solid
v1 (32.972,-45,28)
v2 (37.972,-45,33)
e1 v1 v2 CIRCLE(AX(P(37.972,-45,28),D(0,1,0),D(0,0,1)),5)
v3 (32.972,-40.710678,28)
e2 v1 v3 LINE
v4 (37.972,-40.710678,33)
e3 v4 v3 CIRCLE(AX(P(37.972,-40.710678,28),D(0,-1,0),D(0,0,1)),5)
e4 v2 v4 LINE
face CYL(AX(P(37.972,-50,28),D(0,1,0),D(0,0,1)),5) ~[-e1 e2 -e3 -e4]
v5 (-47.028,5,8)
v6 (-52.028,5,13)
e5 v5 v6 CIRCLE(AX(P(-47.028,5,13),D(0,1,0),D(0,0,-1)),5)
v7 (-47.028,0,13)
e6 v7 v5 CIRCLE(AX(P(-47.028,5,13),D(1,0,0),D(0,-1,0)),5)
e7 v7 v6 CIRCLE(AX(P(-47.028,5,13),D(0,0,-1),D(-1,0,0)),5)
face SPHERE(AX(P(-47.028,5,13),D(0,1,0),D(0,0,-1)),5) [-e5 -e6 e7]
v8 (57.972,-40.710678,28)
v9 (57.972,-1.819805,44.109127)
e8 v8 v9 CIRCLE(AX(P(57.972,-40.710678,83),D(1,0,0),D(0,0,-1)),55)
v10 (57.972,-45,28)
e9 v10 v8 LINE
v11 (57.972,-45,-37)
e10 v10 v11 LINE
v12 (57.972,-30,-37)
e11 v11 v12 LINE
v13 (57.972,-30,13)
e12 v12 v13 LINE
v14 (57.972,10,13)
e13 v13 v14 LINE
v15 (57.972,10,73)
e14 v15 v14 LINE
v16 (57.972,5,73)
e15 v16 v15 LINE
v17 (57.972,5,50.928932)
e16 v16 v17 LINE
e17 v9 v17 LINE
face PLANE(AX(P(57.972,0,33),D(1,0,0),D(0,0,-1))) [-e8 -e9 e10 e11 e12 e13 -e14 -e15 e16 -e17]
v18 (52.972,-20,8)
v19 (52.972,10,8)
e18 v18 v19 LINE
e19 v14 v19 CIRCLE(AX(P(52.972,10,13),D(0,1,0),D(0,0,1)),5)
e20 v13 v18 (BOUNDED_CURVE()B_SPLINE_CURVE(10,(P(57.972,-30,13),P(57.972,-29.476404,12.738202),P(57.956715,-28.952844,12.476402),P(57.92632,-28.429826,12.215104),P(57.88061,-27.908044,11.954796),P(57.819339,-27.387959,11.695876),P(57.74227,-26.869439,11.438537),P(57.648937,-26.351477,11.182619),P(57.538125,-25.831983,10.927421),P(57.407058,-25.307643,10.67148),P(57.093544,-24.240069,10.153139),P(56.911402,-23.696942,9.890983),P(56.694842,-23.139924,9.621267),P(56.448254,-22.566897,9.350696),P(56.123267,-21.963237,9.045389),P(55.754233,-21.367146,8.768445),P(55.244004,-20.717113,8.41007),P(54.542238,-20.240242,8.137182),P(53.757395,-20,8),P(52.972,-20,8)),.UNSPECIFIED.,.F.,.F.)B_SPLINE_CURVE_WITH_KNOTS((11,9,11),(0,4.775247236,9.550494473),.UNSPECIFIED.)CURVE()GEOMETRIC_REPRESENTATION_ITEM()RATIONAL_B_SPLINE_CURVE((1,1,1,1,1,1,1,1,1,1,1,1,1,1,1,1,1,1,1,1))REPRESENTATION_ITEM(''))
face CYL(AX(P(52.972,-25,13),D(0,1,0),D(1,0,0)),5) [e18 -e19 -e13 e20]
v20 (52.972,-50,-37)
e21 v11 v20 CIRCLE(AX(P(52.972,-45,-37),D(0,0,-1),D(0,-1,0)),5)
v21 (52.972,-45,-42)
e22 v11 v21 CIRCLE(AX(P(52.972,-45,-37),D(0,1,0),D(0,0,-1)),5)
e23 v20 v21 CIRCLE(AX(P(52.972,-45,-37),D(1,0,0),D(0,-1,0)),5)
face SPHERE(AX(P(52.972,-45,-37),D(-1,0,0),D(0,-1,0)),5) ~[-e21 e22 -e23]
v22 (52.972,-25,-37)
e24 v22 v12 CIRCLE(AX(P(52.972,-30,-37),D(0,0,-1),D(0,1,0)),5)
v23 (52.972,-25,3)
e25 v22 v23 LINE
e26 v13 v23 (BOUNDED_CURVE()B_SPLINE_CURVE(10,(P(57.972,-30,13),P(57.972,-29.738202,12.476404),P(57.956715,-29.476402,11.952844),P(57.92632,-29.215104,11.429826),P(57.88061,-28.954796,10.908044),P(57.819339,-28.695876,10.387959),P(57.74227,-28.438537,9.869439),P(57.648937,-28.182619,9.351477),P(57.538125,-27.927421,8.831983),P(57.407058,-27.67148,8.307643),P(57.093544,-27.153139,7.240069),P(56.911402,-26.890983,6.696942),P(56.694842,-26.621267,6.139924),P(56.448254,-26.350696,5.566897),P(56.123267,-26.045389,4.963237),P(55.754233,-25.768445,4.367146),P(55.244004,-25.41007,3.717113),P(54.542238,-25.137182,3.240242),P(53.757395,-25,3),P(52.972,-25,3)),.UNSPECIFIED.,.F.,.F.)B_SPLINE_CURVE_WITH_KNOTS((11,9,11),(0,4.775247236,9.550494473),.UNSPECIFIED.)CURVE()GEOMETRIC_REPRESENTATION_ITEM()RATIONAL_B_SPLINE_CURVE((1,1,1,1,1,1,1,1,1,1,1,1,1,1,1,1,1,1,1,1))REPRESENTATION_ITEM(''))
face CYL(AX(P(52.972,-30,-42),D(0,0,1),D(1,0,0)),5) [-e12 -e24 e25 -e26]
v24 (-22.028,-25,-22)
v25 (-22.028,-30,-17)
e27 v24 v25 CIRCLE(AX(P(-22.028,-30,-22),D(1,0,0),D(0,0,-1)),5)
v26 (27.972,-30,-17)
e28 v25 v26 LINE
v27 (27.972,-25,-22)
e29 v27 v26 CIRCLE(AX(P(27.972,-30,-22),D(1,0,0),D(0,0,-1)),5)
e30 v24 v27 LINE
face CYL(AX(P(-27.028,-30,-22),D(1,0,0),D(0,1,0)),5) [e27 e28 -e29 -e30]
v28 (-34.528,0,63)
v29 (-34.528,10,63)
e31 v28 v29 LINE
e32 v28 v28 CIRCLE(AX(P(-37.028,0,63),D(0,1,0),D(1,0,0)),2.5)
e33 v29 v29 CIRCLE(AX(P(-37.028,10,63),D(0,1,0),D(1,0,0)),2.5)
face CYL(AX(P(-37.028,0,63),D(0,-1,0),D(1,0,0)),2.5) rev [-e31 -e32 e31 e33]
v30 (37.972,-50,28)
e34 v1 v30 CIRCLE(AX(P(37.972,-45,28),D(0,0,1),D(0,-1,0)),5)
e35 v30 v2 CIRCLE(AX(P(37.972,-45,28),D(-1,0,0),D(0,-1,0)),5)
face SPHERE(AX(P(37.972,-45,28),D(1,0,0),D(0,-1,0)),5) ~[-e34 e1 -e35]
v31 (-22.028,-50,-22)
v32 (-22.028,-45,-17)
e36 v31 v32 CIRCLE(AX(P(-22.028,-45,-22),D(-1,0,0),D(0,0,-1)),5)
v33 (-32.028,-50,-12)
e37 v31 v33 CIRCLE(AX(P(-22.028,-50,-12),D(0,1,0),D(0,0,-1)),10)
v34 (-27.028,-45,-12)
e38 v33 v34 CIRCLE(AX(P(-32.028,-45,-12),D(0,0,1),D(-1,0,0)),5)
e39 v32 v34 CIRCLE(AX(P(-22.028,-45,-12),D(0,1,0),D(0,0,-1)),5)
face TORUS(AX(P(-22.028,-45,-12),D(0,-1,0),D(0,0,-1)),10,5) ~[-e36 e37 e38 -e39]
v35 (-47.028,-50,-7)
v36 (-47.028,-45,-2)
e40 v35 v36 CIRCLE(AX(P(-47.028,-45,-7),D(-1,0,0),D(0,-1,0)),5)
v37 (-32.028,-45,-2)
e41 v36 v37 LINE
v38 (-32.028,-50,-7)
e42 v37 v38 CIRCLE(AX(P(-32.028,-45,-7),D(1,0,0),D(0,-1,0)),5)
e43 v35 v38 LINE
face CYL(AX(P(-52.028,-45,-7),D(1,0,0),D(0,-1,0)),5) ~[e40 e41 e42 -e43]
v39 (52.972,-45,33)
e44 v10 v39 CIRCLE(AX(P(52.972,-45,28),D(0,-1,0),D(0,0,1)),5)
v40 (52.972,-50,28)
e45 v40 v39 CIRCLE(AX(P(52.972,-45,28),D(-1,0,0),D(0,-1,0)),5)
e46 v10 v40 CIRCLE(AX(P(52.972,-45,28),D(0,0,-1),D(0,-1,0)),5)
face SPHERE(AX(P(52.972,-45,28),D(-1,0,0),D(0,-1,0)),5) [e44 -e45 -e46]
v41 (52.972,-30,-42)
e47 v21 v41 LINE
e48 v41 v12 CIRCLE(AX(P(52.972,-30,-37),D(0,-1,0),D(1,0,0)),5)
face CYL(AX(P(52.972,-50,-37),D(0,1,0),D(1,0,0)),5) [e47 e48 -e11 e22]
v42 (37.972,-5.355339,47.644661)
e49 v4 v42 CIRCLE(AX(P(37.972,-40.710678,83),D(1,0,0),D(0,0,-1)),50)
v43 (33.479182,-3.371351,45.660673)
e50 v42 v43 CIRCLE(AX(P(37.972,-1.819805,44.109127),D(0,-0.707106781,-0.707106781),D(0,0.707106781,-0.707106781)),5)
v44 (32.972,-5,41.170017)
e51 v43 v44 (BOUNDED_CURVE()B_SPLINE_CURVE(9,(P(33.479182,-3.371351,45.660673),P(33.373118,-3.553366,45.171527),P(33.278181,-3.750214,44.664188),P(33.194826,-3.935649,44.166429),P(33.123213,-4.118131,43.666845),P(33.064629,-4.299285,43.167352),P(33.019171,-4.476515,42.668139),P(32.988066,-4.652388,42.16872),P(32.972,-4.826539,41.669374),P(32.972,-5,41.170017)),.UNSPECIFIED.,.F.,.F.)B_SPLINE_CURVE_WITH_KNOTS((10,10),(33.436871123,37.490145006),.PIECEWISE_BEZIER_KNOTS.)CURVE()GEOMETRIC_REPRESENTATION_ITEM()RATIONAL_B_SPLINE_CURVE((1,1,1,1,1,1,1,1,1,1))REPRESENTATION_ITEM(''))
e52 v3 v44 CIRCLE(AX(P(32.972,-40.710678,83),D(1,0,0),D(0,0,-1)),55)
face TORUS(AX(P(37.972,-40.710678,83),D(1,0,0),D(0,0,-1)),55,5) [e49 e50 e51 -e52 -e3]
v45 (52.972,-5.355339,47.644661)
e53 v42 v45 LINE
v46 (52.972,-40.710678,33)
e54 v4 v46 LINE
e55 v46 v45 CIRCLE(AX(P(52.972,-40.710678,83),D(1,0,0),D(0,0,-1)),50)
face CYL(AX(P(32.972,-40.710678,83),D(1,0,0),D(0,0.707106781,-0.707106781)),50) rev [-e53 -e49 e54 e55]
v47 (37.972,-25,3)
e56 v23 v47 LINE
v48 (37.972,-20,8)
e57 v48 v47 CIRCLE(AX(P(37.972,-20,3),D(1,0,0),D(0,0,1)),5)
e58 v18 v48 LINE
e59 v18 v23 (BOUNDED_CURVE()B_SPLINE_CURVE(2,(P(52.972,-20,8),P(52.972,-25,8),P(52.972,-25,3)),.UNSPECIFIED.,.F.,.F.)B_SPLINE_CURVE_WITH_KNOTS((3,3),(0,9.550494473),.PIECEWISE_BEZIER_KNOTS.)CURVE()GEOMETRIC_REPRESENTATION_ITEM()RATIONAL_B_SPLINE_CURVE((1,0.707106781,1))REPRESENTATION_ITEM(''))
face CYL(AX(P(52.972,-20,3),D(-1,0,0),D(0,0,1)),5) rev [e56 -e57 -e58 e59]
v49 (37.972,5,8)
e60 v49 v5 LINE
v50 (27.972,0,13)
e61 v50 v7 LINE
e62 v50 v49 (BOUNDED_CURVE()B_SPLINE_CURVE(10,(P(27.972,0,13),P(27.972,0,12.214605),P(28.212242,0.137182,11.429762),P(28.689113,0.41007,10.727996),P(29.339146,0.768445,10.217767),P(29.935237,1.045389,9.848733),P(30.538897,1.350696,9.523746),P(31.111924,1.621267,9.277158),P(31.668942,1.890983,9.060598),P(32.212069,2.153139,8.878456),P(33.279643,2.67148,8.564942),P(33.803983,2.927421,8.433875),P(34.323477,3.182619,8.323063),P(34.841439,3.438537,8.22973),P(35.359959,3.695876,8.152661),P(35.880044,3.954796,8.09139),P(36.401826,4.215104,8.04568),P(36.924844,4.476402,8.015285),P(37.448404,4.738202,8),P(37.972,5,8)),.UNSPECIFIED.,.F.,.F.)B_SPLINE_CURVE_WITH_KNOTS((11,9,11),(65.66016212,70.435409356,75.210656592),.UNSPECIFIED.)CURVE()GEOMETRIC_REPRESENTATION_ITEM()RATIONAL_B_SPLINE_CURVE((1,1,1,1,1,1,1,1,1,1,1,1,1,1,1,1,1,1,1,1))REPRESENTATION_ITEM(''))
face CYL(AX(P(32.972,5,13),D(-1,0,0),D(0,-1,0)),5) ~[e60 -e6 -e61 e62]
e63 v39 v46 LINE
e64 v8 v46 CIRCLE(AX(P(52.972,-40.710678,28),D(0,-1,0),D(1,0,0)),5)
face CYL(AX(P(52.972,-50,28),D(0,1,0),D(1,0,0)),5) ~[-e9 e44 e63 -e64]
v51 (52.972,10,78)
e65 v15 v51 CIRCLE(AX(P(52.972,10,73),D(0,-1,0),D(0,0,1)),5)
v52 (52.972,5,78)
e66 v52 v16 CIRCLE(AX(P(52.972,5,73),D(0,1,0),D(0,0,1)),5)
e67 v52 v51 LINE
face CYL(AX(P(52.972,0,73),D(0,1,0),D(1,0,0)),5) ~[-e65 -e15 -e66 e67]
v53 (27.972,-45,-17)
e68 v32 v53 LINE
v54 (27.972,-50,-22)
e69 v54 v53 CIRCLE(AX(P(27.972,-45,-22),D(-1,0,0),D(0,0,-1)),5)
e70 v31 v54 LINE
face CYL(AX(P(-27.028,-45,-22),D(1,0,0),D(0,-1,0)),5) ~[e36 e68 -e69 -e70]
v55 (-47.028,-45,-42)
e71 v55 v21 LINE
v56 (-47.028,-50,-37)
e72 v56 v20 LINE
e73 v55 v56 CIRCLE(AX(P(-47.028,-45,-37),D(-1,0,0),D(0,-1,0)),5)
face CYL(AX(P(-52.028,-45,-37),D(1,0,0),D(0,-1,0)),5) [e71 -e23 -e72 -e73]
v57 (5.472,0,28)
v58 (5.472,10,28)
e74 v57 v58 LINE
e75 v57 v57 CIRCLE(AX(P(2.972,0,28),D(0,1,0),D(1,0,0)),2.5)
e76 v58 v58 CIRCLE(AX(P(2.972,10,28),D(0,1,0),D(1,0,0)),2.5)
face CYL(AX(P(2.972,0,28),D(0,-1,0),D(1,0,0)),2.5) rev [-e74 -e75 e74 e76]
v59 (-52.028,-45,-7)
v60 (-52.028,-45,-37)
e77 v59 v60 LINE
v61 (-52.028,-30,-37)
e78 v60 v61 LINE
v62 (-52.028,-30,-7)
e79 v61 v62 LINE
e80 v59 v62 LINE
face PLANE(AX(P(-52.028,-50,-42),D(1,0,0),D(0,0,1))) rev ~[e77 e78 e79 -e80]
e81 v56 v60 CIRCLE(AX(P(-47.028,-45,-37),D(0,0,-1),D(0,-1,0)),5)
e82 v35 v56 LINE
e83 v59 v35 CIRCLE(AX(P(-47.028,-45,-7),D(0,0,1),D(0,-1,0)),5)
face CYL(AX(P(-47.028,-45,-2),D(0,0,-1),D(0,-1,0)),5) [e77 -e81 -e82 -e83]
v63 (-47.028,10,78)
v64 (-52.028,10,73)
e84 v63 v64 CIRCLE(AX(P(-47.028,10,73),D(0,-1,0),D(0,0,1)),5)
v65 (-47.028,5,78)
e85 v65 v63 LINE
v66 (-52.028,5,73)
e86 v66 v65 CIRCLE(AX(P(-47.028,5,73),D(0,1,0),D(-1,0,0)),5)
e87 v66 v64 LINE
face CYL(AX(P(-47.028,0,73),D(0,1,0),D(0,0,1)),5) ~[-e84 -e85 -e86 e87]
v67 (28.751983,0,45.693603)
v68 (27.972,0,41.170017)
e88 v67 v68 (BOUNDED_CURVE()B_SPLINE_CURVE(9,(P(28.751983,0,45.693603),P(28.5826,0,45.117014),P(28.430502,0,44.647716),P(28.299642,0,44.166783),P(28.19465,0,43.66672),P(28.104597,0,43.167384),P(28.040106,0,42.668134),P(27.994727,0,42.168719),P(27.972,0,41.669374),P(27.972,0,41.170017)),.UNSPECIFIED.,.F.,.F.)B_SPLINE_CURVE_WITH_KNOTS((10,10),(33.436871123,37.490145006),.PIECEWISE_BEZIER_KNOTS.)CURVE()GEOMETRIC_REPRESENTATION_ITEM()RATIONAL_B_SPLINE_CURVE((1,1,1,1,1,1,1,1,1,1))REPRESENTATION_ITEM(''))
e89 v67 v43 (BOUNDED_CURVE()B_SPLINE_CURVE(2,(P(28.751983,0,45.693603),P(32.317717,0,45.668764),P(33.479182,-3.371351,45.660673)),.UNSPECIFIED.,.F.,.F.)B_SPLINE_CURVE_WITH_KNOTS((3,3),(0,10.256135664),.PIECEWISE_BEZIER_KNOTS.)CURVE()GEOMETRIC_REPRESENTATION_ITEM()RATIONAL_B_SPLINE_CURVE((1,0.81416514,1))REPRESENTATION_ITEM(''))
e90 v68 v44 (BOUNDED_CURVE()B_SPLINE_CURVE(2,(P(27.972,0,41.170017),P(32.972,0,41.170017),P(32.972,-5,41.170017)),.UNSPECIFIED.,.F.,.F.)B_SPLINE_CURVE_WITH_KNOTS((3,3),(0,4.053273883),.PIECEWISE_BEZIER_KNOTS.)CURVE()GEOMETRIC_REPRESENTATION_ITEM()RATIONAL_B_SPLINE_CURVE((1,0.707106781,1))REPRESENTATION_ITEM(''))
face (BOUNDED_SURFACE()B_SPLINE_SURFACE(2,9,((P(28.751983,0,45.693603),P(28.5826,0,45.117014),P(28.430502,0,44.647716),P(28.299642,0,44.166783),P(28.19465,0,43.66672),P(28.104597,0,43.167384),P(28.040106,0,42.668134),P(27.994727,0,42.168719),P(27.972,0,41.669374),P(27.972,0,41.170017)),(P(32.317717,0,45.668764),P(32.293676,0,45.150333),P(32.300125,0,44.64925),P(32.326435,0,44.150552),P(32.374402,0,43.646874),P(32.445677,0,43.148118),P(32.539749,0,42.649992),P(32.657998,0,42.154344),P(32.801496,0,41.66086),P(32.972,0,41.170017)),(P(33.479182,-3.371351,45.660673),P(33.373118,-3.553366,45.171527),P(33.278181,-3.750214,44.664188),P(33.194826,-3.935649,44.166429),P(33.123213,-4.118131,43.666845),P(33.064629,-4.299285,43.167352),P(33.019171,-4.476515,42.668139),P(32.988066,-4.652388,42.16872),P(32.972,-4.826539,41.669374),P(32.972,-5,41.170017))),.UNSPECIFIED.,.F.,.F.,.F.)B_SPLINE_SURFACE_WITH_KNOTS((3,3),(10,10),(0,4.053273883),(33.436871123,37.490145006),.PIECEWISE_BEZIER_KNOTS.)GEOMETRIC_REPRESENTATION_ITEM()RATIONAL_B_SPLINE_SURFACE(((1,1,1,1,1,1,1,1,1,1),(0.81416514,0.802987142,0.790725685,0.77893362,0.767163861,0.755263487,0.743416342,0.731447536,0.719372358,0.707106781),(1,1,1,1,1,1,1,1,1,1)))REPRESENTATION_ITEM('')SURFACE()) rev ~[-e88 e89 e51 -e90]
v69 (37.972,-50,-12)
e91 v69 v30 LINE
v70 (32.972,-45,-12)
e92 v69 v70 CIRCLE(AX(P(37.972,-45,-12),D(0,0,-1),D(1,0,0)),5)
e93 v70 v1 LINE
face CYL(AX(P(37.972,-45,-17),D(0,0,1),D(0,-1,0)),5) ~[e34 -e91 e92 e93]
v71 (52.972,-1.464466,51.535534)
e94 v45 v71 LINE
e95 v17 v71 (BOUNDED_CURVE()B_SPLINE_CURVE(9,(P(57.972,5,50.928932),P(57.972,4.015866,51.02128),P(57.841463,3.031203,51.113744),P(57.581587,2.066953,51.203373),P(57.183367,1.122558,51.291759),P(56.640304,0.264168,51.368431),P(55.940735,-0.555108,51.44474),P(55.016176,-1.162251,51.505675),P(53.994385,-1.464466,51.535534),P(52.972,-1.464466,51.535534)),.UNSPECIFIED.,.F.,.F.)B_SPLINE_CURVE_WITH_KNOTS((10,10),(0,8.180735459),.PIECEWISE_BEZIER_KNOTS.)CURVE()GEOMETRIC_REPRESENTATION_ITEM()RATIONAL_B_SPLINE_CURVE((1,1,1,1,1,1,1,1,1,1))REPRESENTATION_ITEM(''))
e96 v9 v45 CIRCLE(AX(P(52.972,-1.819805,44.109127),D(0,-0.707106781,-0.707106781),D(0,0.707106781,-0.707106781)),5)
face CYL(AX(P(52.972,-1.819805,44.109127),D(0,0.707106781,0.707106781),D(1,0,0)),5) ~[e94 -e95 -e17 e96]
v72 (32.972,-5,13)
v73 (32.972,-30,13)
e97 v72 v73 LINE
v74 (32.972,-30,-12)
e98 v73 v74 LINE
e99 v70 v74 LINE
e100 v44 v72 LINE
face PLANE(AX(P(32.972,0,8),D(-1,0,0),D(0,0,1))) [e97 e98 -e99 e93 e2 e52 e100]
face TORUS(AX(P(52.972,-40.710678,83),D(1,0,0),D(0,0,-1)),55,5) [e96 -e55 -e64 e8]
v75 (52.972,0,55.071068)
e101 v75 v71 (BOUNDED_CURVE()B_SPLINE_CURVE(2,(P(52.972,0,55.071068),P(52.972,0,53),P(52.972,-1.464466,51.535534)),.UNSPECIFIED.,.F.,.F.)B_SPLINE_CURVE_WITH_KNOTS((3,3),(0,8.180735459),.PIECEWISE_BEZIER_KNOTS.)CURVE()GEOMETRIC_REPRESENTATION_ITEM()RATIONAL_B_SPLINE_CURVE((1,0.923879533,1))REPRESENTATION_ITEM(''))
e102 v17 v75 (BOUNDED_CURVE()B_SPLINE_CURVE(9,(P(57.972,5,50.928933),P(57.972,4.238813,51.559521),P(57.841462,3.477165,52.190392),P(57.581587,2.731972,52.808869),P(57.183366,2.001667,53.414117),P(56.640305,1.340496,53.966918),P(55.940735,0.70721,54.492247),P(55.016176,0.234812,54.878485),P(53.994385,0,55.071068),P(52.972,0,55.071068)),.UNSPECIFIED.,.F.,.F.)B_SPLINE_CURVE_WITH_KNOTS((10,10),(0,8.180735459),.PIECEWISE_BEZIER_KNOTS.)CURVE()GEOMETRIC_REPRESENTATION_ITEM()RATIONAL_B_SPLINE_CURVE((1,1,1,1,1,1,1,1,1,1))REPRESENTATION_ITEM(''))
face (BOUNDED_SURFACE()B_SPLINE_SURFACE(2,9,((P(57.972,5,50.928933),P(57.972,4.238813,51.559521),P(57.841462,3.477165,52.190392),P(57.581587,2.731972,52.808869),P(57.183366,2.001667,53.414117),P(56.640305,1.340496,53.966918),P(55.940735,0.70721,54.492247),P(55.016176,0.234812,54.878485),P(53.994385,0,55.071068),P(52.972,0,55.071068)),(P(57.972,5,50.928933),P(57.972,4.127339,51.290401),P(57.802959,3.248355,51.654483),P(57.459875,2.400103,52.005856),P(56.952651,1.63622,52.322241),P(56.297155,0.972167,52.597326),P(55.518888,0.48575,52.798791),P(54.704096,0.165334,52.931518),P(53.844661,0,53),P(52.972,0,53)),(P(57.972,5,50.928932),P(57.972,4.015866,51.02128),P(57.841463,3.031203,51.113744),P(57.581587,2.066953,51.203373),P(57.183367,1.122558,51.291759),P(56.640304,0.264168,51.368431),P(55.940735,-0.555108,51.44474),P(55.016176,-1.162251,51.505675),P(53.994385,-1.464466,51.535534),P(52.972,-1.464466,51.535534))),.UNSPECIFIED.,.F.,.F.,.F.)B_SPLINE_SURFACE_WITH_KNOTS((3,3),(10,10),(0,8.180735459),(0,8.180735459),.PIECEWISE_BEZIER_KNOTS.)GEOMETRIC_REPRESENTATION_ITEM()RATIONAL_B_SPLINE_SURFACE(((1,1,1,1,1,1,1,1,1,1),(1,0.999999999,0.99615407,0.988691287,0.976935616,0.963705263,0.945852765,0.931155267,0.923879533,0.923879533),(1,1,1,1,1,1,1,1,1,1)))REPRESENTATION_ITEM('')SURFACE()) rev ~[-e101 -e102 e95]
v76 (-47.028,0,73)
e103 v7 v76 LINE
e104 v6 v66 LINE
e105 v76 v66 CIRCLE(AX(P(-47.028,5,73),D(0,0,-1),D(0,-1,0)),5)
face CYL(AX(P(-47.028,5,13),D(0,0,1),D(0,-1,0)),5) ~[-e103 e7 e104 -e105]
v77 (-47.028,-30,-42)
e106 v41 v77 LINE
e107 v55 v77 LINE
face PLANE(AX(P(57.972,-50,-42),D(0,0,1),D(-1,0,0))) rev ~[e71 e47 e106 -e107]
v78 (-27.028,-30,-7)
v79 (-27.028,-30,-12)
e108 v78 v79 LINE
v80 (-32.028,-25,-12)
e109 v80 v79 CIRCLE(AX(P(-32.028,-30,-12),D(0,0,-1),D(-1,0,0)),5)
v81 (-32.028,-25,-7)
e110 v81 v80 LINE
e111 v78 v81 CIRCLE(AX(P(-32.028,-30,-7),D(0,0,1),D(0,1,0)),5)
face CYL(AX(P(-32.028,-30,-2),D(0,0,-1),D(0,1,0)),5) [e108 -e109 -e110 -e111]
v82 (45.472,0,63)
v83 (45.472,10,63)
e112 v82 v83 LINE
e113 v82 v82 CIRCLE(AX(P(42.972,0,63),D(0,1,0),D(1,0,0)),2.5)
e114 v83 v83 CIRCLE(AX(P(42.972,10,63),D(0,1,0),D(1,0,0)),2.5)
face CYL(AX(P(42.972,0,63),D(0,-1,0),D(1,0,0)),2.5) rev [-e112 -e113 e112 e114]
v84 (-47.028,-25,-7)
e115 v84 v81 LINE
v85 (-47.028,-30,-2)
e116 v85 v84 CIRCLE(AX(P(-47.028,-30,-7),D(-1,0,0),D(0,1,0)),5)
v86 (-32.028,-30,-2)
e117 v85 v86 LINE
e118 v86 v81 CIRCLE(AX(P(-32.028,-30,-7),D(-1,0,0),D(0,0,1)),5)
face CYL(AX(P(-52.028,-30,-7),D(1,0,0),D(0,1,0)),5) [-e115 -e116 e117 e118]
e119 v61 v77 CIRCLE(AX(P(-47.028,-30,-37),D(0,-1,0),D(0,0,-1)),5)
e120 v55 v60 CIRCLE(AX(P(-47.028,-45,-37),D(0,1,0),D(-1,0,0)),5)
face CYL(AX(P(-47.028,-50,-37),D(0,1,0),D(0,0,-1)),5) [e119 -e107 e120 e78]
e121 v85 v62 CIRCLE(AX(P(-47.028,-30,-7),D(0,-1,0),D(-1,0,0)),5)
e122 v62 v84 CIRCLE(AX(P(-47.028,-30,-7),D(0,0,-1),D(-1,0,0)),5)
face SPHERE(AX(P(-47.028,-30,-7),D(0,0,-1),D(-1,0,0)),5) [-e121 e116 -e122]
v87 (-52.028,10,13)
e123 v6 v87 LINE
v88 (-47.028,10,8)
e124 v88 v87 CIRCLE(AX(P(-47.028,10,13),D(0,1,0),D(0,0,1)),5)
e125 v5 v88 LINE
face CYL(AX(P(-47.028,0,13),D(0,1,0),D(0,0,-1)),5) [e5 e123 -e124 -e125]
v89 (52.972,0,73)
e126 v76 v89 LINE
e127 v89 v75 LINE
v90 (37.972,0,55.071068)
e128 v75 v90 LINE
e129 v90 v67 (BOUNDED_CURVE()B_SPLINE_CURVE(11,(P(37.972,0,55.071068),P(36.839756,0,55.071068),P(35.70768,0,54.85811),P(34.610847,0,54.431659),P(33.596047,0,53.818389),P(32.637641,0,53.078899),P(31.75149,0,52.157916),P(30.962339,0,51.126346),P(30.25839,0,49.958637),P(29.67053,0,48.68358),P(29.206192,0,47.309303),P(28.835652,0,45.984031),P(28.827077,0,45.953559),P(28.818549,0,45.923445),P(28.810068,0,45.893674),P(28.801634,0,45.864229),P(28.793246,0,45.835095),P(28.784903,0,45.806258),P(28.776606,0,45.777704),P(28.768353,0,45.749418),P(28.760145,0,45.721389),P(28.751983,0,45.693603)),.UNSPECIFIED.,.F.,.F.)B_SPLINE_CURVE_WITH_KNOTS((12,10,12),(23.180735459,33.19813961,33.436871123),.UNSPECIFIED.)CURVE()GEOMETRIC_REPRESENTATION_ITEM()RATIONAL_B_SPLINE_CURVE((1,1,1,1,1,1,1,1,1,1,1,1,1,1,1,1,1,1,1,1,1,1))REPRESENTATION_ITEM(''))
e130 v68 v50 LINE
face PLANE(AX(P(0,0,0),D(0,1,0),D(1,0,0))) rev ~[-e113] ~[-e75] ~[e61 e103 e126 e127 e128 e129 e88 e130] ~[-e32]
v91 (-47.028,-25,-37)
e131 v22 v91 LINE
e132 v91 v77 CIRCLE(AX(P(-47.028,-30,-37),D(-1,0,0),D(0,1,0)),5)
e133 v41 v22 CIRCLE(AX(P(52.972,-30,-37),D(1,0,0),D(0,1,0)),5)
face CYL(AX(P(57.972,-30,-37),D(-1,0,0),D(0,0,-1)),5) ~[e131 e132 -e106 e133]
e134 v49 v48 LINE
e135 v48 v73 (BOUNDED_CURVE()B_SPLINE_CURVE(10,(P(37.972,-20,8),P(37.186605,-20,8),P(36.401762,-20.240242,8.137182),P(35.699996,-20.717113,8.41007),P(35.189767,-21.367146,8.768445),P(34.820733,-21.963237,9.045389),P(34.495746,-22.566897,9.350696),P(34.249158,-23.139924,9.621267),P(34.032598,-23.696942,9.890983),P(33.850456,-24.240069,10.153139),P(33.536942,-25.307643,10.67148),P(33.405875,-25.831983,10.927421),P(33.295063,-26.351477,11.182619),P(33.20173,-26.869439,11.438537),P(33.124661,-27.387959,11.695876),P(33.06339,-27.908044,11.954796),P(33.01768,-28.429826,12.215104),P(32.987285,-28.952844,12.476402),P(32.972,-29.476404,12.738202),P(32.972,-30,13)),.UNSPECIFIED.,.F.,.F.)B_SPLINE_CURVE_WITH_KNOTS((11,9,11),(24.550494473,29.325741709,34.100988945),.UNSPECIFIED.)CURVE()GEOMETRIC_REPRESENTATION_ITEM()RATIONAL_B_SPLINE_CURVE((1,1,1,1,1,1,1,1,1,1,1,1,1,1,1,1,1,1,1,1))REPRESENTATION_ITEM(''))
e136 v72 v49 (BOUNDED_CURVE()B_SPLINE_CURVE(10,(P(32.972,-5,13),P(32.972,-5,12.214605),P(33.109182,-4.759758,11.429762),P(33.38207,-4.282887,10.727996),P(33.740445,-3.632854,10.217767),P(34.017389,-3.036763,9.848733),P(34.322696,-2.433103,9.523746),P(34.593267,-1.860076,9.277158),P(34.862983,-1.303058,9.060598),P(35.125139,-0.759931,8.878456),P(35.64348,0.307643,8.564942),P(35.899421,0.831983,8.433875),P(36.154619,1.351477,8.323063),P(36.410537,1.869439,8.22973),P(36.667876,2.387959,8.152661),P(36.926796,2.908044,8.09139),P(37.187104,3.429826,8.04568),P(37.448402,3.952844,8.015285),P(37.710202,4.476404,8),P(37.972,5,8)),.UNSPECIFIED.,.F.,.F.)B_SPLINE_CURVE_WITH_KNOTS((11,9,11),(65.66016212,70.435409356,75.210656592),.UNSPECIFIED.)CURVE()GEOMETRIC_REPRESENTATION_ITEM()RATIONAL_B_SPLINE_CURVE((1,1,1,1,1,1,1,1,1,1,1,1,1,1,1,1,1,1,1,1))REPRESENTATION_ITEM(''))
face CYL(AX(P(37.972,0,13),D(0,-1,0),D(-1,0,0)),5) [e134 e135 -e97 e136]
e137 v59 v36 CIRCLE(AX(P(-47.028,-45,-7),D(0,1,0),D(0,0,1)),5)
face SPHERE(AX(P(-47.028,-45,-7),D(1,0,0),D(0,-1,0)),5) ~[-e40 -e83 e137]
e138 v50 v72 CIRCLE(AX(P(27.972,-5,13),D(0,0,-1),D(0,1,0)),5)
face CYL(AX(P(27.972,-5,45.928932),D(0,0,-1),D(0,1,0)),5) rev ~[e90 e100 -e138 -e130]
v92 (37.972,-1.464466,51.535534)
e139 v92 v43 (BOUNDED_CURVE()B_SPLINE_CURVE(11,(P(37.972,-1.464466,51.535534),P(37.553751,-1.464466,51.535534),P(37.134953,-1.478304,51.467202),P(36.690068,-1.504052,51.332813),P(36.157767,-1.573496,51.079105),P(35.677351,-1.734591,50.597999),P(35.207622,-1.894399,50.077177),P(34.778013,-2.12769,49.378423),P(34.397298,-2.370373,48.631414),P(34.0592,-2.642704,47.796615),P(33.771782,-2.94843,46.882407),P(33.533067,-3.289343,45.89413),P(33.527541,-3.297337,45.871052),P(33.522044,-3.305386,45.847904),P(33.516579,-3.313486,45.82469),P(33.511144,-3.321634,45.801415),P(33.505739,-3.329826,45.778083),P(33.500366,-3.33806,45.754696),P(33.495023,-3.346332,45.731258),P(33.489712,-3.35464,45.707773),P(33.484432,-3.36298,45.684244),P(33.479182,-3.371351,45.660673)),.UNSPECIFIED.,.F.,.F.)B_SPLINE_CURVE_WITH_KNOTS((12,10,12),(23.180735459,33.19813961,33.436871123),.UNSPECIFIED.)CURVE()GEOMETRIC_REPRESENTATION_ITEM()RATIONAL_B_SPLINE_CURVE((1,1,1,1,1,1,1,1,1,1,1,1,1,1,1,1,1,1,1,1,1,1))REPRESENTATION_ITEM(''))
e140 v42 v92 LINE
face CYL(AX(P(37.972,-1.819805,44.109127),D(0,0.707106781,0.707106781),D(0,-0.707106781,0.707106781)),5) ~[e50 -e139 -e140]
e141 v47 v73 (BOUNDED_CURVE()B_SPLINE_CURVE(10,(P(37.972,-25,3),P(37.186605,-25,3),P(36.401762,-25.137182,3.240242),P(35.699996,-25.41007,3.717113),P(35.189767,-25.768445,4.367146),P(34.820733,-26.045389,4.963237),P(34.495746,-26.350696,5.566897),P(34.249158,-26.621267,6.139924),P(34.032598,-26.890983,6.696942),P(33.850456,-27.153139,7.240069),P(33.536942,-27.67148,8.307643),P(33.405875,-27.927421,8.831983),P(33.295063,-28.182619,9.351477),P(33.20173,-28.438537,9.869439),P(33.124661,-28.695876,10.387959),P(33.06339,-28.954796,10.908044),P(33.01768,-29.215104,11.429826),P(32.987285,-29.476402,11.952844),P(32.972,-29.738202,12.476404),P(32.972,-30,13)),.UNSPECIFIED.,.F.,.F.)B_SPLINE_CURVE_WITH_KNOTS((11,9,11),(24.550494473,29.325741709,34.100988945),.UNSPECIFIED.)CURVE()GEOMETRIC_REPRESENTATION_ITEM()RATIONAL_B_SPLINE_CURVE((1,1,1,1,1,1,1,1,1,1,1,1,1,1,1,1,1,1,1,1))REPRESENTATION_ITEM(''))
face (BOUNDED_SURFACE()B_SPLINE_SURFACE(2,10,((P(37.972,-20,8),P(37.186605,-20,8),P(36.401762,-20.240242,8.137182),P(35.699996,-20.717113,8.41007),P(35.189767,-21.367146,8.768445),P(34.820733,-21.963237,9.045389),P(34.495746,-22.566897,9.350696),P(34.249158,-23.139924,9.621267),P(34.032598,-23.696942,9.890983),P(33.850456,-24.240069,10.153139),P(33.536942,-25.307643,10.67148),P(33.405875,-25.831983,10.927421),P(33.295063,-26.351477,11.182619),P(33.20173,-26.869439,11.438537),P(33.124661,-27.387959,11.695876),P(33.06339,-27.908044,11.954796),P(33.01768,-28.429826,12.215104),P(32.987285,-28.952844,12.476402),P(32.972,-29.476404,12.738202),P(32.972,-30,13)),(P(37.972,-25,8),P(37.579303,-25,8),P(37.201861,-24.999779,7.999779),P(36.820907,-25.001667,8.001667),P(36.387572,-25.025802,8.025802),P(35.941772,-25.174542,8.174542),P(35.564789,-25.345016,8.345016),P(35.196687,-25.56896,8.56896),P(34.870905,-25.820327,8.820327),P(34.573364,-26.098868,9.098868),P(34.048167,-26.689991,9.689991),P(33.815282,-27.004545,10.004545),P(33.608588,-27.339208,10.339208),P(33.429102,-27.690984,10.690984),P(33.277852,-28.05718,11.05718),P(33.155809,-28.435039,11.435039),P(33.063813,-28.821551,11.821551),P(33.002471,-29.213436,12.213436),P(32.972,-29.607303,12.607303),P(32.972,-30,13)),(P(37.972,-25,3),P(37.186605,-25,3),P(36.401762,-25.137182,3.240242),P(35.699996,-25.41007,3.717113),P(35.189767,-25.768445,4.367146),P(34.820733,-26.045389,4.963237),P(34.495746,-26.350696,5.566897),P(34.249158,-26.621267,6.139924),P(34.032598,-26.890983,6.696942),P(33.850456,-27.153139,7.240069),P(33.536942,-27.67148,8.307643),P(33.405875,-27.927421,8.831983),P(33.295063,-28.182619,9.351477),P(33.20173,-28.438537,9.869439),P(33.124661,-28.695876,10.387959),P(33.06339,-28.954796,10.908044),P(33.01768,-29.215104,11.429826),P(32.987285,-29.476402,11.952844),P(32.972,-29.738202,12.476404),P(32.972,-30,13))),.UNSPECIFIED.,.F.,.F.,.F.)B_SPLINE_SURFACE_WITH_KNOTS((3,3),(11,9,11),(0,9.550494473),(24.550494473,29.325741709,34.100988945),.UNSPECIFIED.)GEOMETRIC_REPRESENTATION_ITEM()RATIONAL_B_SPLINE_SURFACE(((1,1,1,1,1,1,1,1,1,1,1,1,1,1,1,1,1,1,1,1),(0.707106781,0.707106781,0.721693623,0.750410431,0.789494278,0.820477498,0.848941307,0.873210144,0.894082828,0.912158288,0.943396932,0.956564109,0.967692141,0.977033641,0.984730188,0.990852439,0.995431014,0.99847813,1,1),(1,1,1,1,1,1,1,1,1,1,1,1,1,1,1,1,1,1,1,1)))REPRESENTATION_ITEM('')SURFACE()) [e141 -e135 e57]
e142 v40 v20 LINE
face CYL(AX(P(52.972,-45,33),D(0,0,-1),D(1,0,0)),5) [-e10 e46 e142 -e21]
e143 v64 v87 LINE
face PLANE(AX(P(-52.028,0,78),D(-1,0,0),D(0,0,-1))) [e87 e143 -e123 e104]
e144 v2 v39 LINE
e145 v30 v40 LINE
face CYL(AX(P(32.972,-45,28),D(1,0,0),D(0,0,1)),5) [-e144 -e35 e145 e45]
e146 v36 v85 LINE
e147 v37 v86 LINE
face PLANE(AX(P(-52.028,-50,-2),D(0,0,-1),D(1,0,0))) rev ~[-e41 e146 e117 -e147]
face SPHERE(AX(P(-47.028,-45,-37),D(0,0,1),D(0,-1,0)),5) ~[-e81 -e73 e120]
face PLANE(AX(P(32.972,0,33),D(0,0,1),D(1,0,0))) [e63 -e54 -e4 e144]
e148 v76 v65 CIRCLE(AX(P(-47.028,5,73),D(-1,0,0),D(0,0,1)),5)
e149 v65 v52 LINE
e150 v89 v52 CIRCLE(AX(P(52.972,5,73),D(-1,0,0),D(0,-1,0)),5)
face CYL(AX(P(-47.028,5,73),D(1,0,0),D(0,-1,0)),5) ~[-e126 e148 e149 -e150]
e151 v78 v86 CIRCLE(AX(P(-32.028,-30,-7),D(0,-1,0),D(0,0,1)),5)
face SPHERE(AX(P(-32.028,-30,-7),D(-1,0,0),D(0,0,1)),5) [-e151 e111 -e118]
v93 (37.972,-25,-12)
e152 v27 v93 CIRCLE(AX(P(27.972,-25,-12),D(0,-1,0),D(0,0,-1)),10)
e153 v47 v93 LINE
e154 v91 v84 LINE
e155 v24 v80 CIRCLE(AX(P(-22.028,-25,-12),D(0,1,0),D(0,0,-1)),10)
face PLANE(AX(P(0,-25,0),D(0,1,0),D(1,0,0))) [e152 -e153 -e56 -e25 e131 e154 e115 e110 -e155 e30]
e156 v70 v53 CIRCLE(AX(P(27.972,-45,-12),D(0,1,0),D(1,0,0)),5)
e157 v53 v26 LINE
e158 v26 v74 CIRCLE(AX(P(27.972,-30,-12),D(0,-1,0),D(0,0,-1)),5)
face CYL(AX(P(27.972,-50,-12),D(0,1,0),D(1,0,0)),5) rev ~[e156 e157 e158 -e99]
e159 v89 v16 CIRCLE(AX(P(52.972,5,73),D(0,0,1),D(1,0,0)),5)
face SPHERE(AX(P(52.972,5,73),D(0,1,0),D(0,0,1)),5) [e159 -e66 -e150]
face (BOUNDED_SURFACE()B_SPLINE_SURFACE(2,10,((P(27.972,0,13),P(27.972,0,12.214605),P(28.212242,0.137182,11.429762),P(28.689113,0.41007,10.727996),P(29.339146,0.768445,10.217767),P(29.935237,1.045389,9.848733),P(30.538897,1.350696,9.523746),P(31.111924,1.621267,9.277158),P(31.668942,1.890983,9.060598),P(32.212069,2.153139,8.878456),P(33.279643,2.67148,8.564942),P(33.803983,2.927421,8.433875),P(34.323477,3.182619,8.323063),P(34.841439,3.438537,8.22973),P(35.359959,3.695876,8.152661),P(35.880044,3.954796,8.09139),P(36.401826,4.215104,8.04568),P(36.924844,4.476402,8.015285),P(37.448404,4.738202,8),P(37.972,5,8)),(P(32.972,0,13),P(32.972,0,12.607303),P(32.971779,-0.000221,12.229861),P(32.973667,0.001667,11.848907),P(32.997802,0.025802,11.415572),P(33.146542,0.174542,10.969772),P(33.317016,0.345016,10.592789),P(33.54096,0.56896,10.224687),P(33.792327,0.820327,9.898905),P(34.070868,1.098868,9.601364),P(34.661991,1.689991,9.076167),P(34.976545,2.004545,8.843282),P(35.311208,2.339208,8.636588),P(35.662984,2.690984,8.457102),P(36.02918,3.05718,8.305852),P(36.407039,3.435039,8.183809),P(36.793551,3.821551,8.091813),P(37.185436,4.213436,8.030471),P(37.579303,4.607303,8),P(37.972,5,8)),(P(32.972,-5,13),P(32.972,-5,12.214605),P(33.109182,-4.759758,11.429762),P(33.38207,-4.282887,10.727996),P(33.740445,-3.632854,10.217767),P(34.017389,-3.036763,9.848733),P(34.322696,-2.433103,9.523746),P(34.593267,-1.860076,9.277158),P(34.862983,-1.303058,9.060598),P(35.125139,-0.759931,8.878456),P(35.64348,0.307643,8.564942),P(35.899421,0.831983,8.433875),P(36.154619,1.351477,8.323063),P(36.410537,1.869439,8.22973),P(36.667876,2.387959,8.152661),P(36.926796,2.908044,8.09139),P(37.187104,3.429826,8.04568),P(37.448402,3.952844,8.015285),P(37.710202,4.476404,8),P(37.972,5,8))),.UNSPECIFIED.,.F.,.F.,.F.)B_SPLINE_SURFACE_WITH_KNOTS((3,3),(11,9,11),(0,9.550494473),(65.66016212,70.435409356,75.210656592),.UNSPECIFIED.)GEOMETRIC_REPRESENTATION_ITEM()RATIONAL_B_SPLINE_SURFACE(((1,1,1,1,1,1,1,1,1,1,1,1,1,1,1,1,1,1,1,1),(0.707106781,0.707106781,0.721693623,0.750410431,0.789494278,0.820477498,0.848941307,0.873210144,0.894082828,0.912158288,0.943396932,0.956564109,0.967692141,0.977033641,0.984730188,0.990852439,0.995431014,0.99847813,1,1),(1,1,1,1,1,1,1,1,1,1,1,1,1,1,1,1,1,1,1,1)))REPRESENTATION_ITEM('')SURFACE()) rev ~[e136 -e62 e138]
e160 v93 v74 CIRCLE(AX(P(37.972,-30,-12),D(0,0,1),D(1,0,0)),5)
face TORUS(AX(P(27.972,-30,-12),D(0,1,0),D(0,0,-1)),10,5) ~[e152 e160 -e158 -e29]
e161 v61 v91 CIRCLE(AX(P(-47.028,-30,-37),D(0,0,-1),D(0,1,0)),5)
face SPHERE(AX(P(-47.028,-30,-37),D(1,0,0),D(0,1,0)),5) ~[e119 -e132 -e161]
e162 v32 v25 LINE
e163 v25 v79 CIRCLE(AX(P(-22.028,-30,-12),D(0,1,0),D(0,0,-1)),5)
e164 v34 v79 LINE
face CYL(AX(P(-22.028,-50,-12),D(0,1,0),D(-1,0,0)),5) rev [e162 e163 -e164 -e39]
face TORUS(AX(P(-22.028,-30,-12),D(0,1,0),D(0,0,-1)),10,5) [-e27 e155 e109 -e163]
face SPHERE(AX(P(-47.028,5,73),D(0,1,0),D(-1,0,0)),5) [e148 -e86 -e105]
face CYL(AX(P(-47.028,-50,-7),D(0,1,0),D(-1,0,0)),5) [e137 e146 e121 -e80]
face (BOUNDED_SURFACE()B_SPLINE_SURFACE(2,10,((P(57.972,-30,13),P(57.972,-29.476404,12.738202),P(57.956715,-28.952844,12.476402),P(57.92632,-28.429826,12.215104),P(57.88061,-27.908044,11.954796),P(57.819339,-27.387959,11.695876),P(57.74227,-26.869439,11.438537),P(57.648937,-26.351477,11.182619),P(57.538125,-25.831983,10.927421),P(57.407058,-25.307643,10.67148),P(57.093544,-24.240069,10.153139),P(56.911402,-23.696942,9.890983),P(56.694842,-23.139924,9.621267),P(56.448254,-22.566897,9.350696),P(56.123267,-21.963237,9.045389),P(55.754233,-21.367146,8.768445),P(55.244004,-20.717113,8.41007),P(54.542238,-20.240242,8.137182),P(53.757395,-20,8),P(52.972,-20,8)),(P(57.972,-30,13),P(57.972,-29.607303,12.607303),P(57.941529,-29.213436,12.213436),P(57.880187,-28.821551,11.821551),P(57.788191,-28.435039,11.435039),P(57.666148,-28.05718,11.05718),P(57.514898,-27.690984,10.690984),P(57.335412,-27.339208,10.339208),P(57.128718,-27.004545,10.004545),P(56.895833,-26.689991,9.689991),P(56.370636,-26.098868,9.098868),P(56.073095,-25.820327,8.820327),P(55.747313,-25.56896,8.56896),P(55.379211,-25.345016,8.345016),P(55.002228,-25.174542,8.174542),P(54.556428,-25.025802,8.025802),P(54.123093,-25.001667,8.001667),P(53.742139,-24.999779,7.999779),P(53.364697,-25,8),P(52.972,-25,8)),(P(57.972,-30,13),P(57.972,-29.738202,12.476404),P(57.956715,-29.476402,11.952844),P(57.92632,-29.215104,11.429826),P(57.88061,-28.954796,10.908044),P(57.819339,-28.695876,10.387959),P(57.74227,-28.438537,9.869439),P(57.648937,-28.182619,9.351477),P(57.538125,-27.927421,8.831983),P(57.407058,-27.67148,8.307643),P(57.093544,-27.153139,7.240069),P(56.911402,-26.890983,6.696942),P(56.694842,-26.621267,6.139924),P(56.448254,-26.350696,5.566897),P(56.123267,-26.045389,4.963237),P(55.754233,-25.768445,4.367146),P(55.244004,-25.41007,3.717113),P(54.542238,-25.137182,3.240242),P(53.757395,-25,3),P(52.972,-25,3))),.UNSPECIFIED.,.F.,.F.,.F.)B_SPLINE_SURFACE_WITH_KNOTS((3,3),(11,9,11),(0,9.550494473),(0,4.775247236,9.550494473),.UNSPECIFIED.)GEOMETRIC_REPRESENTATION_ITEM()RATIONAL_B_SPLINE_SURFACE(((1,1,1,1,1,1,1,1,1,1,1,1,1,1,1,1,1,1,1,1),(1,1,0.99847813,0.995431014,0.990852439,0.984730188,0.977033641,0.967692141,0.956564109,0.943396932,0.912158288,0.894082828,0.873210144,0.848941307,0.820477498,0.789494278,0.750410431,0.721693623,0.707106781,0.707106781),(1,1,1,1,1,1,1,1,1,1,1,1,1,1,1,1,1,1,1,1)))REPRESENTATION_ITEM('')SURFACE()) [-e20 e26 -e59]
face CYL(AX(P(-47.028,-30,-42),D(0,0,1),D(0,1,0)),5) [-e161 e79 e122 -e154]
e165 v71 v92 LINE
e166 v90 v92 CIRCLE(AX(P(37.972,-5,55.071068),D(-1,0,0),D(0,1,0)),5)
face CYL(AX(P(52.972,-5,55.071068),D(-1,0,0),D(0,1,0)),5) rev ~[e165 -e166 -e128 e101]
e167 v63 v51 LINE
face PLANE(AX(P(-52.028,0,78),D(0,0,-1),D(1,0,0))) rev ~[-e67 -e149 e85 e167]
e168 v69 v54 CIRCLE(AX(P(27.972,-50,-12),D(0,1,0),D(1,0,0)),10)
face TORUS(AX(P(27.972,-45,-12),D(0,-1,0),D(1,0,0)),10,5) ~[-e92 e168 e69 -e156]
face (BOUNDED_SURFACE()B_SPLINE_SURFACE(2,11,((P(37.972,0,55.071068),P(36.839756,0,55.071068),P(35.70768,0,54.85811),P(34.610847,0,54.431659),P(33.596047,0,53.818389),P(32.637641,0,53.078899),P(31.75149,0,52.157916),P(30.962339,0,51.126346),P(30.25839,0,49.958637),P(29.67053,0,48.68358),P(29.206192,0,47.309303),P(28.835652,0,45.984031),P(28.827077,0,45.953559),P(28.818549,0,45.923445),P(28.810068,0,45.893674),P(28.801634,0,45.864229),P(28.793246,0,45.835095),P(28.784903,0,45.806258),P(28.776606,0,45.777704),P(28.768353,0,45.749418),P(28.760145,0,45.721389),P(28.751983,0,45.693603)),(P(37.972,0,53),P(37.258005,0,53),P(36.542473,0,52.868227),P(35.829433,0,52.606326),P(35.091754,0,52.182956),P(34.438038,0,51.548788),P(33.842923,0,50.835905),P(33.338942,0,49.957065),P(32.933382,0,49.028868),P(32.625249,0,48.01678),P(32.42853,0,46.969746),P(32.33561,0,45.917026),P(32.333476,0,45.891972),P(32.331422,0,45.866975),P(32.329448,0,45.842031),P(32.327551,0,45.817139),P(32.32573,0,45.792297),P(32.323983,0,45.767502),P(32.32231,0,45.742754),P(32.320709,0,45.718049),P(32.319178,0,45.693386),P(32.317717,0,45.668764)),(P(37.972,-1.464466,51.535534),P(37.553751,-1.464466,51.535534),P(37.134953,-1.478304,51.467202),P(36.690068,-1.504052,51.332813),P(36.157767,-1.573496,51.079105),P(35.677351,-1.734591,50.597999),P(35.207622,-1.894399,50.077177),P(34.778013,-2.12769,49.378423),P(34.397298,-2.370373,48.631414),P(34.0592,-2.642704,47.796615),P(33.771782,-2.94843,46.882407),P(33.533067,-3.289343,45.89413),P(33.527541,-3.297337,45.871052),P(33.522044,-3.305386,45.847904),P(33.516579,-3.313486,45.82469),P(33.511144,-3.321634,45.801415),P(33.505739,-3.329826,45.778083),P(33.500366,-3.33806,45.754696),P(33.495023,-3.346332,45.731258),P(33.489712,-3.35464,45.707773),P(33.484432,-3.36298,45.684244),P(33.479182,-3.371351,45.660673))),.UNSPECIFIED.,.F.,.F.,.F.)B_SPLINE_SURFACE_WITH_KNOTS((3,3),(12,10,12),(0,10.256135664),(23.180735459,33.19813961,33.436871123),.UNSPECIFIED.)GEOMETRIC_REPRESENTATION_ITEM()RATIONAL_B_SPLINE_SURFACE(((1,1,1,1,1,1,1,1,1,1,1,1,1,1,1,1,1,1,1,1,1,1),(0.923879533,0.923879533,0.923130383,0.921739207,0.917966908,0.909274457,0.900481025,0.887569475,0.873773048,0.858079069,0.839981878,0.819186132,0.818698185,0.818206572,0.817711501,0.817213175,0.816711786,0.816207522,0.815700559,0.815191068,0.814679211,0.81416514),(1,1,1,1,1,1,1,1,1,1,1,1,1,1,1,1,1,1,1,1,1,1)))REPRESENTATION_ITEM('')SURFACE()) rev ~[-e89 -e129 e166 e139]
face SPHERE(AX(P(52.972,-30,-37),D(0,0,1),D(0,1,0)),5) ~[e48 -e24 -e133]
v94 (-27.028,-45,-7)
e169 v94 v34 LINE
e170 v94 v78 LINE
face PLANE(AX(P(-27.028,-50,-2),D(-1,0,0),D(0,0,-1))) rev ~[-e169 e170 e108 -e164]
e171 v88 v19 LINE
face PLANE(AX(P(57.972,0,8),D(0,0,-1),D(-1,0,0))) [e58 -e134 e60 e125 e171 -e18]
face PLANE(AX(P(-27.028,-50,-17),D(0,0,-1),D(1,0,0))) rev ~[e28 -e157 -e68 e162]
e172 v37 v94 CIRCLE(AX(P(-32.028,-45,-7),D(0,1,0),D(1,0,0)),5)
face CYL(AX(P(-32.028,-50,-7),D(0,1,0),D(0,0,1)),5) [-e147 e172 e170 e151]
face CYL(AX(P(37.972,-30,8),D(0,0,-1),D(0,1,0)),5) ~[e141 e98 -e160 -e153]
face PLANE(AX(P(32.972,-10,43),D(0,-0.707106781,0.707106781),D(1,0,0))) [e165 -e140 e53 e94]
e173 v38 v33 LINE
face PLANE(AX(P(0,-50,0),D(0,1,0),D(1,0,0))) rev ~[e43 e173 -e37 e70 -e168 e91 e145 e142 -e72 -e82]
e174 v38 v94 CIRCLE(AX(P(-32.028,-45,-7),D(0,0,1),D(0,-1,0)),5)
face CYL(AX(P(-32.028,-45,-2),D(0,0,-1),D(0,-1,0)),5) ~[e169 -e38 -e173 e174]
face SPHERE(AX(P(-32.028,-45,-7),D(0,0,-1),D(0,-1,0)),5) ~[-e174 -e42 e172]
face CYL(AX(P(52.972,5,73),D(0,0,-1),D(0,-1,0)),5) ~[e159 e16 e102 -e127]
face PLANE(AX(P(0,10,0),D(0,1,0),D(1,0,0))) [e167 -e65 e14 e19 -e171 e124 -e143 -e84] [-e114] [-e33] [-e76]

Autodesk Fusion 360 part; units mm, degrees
sketch "Sketch1" plane through (0, 0, 0) normal (0, 1, 0) x (1, 0, 0)
  circle A0 centre (0, 0) radius 17 construction
  line L0 (-50, -17) -> (32, -17) construction
  line L1 (32, -17) -> (32, 83) construction
  line L2 (32, 83) -> (-50, 83) construction
  line L3 (-50, 83) -> (-50, -17) construction
  line L4 (-52.028, -78) -> (57.972, -78)
  line L5 (57.972, -78) -> (57.972, -8)
  line L6 (57.972, -8) -> (-52.028, -8)
  line L7 (57.972, -8) -> (32.972, -8)
  line L8 (32.972, -8) -> (32.972, -33)
  line L9 (32.972, -33) -> (57.972, -33)
  line L10 (57.972, -33) -> (57.972, -8)
  line L11 (-52.028, -78) -> (-52.028, -8)
  line L12 (-52.028, -8) -> (57.972, -8)
  line L13 (57.972, -8) -> (57.972, -33)
  line L14 (32.972, -8) -> (57.972, -8)
  line L15 (57.972, -8) -> (57.972, 42)
  line L16 (57.972, 42) -> (32.972, 42)
  line L17 (32.972, 42) -> (32.972, -8)
  line L18 (57.972, 42) -> (-52.028, 42)
  line L19 (-52.028, 42) -> (-52.028, 17)
  line L20 (-52.028, 17) -> (57.972, 17)
  line L21 (57.972, 17) -> (57.972, 42)
  line L22 (-52.028, 17) -> (-52.028, 2)
  line L23 (-52.028, 2) -> (-27.028, 2)
  line L24 (-27.028, 2) -> (-27.028, 17)
  circle A1 centre (-37.028, -63) radius 2.5
  circle A2 centre (42.972, -63) radius 2.5
  circle A3 centre (2.972, -28) radius 2.5
  line L25 (2.972, -78) -> (2.972, -8) construction
  dimension "d1" = 34
  dimension "d2" = 82
  dimension "d3" = 32
  dimension "d4" = 100
  dimension "d5" = 25
  dimension "d6" = 25
  dimension "d7" = 110
  dimension "d8" = 70
  dimension "d9" = 25
  dimension "d10" = 50
  dimension "d11" = 110
  dimension "d12" = 25
  dimension "d13" = 15
  dimension "d14" = 25
  dimension "d15" = 5
  dimension "d16" = 5
  dimension "d17" = 5
  dimension "d18" = 50
  dimension "d19" = 15
  dimension "d20" = 15
  dimension "d21" = 15
  dimension "d22" = 15
extrude "Extrude1" add sketch "Sketch1" along normal blind 10 contours L4 L5 L6 L8 L9 L11 L12 | L5 L6 L7 L8 L9 L10 L12 L13 L14
extrude "Extrude2" add sketch "Sketch1" against normal blind 25 contours L5 L6 L7 L8 L9 L10 L12 L13 L14
extrude "Extrude3" add sketch "Sketch1" along normal blind 25 from surface at -50 contours L5 L6 L7 L8 L9 L10 L12 L13 L14 | L6 L7 L12 L14 L15 L17 L20 | L17 L18 L19 L20 | L15 L16 L17 L18 L20 L21 | L20 L22 L23 L24
chamfer "Chamfer1" distance 20 angle 45 1 edges at (45.472, 0, 33)
fillet "Fillet1" radius 5 4 edges at (57.972, 5, 78) (-52.028, 5, 78) (-52.028, 5, 8) (57.972, -7.5, 8)
fillet "Fillet2" radius 50 1 edges at (45.472, -20, 33)
fillet "Fillet3" radius 5 27 edges at (45.472, -50, 33) (32.972, -50, 8) (2.972, -50, -17) (-27.028, -50, -9.5) (-39.528, -50, -2) (-52.028, -50, -22) (2.972, -50, -42) (57.972, -50, -4.5) (57.972, -25, -14.5) (2.972, -25, -42) (-52.028, -25, -22) (-52.028, -37.5, -2) (-52.028, -37.5, -42) (-39.528, -25, -2) (-27.028, -37.5, -2) (-27.028, -37.5, -17) (2.972, -25, -17) (32.972, -25, -4.5) (32.972, -12.5, 8) (32.972, -2.6777, 50.3223) (32.972, -21.5765, 36.806) (32.972, -45.3553, 33) (57.972, -45.3553, 33) (57.972, -21.5765, 36.806) (57.972, -2.6777, 50.3223) (32.972, -37.5, -17) (-27.028, -25, -9.5)
fillet "Fillet3" radius 5 1 edges at (57.972, -37.5, -42)
fillet "Fillet3" radius 5 7 edges at (-7.028, 0, 8) (-50.5635, 0, 9.4645) (-52.028, 0, 43) (-50.5635, 0, 76.5355) (2.972, 0, 78) (56.5075, 0, 76.5355) (57.972, 0, 63)
fillet "Fillet4" radius 5 5 edges at (34.4365, 1.4645, 9.4645) (32.972, 0, 29.4645) (34.4365, 0, 50.9289) (45.472, 0, 53) (56.5075, 1.4645, 52.3934)
fillet "Fillet5" radius 5 3 edges at (34.4365, -26.4645, 9.4645) (45.472, -25, 8) (56.5075, -26.4645, 9.4645)
equation "d3 = ( ( 34 / 2 ) * 1 mm ) + 15 mm"
